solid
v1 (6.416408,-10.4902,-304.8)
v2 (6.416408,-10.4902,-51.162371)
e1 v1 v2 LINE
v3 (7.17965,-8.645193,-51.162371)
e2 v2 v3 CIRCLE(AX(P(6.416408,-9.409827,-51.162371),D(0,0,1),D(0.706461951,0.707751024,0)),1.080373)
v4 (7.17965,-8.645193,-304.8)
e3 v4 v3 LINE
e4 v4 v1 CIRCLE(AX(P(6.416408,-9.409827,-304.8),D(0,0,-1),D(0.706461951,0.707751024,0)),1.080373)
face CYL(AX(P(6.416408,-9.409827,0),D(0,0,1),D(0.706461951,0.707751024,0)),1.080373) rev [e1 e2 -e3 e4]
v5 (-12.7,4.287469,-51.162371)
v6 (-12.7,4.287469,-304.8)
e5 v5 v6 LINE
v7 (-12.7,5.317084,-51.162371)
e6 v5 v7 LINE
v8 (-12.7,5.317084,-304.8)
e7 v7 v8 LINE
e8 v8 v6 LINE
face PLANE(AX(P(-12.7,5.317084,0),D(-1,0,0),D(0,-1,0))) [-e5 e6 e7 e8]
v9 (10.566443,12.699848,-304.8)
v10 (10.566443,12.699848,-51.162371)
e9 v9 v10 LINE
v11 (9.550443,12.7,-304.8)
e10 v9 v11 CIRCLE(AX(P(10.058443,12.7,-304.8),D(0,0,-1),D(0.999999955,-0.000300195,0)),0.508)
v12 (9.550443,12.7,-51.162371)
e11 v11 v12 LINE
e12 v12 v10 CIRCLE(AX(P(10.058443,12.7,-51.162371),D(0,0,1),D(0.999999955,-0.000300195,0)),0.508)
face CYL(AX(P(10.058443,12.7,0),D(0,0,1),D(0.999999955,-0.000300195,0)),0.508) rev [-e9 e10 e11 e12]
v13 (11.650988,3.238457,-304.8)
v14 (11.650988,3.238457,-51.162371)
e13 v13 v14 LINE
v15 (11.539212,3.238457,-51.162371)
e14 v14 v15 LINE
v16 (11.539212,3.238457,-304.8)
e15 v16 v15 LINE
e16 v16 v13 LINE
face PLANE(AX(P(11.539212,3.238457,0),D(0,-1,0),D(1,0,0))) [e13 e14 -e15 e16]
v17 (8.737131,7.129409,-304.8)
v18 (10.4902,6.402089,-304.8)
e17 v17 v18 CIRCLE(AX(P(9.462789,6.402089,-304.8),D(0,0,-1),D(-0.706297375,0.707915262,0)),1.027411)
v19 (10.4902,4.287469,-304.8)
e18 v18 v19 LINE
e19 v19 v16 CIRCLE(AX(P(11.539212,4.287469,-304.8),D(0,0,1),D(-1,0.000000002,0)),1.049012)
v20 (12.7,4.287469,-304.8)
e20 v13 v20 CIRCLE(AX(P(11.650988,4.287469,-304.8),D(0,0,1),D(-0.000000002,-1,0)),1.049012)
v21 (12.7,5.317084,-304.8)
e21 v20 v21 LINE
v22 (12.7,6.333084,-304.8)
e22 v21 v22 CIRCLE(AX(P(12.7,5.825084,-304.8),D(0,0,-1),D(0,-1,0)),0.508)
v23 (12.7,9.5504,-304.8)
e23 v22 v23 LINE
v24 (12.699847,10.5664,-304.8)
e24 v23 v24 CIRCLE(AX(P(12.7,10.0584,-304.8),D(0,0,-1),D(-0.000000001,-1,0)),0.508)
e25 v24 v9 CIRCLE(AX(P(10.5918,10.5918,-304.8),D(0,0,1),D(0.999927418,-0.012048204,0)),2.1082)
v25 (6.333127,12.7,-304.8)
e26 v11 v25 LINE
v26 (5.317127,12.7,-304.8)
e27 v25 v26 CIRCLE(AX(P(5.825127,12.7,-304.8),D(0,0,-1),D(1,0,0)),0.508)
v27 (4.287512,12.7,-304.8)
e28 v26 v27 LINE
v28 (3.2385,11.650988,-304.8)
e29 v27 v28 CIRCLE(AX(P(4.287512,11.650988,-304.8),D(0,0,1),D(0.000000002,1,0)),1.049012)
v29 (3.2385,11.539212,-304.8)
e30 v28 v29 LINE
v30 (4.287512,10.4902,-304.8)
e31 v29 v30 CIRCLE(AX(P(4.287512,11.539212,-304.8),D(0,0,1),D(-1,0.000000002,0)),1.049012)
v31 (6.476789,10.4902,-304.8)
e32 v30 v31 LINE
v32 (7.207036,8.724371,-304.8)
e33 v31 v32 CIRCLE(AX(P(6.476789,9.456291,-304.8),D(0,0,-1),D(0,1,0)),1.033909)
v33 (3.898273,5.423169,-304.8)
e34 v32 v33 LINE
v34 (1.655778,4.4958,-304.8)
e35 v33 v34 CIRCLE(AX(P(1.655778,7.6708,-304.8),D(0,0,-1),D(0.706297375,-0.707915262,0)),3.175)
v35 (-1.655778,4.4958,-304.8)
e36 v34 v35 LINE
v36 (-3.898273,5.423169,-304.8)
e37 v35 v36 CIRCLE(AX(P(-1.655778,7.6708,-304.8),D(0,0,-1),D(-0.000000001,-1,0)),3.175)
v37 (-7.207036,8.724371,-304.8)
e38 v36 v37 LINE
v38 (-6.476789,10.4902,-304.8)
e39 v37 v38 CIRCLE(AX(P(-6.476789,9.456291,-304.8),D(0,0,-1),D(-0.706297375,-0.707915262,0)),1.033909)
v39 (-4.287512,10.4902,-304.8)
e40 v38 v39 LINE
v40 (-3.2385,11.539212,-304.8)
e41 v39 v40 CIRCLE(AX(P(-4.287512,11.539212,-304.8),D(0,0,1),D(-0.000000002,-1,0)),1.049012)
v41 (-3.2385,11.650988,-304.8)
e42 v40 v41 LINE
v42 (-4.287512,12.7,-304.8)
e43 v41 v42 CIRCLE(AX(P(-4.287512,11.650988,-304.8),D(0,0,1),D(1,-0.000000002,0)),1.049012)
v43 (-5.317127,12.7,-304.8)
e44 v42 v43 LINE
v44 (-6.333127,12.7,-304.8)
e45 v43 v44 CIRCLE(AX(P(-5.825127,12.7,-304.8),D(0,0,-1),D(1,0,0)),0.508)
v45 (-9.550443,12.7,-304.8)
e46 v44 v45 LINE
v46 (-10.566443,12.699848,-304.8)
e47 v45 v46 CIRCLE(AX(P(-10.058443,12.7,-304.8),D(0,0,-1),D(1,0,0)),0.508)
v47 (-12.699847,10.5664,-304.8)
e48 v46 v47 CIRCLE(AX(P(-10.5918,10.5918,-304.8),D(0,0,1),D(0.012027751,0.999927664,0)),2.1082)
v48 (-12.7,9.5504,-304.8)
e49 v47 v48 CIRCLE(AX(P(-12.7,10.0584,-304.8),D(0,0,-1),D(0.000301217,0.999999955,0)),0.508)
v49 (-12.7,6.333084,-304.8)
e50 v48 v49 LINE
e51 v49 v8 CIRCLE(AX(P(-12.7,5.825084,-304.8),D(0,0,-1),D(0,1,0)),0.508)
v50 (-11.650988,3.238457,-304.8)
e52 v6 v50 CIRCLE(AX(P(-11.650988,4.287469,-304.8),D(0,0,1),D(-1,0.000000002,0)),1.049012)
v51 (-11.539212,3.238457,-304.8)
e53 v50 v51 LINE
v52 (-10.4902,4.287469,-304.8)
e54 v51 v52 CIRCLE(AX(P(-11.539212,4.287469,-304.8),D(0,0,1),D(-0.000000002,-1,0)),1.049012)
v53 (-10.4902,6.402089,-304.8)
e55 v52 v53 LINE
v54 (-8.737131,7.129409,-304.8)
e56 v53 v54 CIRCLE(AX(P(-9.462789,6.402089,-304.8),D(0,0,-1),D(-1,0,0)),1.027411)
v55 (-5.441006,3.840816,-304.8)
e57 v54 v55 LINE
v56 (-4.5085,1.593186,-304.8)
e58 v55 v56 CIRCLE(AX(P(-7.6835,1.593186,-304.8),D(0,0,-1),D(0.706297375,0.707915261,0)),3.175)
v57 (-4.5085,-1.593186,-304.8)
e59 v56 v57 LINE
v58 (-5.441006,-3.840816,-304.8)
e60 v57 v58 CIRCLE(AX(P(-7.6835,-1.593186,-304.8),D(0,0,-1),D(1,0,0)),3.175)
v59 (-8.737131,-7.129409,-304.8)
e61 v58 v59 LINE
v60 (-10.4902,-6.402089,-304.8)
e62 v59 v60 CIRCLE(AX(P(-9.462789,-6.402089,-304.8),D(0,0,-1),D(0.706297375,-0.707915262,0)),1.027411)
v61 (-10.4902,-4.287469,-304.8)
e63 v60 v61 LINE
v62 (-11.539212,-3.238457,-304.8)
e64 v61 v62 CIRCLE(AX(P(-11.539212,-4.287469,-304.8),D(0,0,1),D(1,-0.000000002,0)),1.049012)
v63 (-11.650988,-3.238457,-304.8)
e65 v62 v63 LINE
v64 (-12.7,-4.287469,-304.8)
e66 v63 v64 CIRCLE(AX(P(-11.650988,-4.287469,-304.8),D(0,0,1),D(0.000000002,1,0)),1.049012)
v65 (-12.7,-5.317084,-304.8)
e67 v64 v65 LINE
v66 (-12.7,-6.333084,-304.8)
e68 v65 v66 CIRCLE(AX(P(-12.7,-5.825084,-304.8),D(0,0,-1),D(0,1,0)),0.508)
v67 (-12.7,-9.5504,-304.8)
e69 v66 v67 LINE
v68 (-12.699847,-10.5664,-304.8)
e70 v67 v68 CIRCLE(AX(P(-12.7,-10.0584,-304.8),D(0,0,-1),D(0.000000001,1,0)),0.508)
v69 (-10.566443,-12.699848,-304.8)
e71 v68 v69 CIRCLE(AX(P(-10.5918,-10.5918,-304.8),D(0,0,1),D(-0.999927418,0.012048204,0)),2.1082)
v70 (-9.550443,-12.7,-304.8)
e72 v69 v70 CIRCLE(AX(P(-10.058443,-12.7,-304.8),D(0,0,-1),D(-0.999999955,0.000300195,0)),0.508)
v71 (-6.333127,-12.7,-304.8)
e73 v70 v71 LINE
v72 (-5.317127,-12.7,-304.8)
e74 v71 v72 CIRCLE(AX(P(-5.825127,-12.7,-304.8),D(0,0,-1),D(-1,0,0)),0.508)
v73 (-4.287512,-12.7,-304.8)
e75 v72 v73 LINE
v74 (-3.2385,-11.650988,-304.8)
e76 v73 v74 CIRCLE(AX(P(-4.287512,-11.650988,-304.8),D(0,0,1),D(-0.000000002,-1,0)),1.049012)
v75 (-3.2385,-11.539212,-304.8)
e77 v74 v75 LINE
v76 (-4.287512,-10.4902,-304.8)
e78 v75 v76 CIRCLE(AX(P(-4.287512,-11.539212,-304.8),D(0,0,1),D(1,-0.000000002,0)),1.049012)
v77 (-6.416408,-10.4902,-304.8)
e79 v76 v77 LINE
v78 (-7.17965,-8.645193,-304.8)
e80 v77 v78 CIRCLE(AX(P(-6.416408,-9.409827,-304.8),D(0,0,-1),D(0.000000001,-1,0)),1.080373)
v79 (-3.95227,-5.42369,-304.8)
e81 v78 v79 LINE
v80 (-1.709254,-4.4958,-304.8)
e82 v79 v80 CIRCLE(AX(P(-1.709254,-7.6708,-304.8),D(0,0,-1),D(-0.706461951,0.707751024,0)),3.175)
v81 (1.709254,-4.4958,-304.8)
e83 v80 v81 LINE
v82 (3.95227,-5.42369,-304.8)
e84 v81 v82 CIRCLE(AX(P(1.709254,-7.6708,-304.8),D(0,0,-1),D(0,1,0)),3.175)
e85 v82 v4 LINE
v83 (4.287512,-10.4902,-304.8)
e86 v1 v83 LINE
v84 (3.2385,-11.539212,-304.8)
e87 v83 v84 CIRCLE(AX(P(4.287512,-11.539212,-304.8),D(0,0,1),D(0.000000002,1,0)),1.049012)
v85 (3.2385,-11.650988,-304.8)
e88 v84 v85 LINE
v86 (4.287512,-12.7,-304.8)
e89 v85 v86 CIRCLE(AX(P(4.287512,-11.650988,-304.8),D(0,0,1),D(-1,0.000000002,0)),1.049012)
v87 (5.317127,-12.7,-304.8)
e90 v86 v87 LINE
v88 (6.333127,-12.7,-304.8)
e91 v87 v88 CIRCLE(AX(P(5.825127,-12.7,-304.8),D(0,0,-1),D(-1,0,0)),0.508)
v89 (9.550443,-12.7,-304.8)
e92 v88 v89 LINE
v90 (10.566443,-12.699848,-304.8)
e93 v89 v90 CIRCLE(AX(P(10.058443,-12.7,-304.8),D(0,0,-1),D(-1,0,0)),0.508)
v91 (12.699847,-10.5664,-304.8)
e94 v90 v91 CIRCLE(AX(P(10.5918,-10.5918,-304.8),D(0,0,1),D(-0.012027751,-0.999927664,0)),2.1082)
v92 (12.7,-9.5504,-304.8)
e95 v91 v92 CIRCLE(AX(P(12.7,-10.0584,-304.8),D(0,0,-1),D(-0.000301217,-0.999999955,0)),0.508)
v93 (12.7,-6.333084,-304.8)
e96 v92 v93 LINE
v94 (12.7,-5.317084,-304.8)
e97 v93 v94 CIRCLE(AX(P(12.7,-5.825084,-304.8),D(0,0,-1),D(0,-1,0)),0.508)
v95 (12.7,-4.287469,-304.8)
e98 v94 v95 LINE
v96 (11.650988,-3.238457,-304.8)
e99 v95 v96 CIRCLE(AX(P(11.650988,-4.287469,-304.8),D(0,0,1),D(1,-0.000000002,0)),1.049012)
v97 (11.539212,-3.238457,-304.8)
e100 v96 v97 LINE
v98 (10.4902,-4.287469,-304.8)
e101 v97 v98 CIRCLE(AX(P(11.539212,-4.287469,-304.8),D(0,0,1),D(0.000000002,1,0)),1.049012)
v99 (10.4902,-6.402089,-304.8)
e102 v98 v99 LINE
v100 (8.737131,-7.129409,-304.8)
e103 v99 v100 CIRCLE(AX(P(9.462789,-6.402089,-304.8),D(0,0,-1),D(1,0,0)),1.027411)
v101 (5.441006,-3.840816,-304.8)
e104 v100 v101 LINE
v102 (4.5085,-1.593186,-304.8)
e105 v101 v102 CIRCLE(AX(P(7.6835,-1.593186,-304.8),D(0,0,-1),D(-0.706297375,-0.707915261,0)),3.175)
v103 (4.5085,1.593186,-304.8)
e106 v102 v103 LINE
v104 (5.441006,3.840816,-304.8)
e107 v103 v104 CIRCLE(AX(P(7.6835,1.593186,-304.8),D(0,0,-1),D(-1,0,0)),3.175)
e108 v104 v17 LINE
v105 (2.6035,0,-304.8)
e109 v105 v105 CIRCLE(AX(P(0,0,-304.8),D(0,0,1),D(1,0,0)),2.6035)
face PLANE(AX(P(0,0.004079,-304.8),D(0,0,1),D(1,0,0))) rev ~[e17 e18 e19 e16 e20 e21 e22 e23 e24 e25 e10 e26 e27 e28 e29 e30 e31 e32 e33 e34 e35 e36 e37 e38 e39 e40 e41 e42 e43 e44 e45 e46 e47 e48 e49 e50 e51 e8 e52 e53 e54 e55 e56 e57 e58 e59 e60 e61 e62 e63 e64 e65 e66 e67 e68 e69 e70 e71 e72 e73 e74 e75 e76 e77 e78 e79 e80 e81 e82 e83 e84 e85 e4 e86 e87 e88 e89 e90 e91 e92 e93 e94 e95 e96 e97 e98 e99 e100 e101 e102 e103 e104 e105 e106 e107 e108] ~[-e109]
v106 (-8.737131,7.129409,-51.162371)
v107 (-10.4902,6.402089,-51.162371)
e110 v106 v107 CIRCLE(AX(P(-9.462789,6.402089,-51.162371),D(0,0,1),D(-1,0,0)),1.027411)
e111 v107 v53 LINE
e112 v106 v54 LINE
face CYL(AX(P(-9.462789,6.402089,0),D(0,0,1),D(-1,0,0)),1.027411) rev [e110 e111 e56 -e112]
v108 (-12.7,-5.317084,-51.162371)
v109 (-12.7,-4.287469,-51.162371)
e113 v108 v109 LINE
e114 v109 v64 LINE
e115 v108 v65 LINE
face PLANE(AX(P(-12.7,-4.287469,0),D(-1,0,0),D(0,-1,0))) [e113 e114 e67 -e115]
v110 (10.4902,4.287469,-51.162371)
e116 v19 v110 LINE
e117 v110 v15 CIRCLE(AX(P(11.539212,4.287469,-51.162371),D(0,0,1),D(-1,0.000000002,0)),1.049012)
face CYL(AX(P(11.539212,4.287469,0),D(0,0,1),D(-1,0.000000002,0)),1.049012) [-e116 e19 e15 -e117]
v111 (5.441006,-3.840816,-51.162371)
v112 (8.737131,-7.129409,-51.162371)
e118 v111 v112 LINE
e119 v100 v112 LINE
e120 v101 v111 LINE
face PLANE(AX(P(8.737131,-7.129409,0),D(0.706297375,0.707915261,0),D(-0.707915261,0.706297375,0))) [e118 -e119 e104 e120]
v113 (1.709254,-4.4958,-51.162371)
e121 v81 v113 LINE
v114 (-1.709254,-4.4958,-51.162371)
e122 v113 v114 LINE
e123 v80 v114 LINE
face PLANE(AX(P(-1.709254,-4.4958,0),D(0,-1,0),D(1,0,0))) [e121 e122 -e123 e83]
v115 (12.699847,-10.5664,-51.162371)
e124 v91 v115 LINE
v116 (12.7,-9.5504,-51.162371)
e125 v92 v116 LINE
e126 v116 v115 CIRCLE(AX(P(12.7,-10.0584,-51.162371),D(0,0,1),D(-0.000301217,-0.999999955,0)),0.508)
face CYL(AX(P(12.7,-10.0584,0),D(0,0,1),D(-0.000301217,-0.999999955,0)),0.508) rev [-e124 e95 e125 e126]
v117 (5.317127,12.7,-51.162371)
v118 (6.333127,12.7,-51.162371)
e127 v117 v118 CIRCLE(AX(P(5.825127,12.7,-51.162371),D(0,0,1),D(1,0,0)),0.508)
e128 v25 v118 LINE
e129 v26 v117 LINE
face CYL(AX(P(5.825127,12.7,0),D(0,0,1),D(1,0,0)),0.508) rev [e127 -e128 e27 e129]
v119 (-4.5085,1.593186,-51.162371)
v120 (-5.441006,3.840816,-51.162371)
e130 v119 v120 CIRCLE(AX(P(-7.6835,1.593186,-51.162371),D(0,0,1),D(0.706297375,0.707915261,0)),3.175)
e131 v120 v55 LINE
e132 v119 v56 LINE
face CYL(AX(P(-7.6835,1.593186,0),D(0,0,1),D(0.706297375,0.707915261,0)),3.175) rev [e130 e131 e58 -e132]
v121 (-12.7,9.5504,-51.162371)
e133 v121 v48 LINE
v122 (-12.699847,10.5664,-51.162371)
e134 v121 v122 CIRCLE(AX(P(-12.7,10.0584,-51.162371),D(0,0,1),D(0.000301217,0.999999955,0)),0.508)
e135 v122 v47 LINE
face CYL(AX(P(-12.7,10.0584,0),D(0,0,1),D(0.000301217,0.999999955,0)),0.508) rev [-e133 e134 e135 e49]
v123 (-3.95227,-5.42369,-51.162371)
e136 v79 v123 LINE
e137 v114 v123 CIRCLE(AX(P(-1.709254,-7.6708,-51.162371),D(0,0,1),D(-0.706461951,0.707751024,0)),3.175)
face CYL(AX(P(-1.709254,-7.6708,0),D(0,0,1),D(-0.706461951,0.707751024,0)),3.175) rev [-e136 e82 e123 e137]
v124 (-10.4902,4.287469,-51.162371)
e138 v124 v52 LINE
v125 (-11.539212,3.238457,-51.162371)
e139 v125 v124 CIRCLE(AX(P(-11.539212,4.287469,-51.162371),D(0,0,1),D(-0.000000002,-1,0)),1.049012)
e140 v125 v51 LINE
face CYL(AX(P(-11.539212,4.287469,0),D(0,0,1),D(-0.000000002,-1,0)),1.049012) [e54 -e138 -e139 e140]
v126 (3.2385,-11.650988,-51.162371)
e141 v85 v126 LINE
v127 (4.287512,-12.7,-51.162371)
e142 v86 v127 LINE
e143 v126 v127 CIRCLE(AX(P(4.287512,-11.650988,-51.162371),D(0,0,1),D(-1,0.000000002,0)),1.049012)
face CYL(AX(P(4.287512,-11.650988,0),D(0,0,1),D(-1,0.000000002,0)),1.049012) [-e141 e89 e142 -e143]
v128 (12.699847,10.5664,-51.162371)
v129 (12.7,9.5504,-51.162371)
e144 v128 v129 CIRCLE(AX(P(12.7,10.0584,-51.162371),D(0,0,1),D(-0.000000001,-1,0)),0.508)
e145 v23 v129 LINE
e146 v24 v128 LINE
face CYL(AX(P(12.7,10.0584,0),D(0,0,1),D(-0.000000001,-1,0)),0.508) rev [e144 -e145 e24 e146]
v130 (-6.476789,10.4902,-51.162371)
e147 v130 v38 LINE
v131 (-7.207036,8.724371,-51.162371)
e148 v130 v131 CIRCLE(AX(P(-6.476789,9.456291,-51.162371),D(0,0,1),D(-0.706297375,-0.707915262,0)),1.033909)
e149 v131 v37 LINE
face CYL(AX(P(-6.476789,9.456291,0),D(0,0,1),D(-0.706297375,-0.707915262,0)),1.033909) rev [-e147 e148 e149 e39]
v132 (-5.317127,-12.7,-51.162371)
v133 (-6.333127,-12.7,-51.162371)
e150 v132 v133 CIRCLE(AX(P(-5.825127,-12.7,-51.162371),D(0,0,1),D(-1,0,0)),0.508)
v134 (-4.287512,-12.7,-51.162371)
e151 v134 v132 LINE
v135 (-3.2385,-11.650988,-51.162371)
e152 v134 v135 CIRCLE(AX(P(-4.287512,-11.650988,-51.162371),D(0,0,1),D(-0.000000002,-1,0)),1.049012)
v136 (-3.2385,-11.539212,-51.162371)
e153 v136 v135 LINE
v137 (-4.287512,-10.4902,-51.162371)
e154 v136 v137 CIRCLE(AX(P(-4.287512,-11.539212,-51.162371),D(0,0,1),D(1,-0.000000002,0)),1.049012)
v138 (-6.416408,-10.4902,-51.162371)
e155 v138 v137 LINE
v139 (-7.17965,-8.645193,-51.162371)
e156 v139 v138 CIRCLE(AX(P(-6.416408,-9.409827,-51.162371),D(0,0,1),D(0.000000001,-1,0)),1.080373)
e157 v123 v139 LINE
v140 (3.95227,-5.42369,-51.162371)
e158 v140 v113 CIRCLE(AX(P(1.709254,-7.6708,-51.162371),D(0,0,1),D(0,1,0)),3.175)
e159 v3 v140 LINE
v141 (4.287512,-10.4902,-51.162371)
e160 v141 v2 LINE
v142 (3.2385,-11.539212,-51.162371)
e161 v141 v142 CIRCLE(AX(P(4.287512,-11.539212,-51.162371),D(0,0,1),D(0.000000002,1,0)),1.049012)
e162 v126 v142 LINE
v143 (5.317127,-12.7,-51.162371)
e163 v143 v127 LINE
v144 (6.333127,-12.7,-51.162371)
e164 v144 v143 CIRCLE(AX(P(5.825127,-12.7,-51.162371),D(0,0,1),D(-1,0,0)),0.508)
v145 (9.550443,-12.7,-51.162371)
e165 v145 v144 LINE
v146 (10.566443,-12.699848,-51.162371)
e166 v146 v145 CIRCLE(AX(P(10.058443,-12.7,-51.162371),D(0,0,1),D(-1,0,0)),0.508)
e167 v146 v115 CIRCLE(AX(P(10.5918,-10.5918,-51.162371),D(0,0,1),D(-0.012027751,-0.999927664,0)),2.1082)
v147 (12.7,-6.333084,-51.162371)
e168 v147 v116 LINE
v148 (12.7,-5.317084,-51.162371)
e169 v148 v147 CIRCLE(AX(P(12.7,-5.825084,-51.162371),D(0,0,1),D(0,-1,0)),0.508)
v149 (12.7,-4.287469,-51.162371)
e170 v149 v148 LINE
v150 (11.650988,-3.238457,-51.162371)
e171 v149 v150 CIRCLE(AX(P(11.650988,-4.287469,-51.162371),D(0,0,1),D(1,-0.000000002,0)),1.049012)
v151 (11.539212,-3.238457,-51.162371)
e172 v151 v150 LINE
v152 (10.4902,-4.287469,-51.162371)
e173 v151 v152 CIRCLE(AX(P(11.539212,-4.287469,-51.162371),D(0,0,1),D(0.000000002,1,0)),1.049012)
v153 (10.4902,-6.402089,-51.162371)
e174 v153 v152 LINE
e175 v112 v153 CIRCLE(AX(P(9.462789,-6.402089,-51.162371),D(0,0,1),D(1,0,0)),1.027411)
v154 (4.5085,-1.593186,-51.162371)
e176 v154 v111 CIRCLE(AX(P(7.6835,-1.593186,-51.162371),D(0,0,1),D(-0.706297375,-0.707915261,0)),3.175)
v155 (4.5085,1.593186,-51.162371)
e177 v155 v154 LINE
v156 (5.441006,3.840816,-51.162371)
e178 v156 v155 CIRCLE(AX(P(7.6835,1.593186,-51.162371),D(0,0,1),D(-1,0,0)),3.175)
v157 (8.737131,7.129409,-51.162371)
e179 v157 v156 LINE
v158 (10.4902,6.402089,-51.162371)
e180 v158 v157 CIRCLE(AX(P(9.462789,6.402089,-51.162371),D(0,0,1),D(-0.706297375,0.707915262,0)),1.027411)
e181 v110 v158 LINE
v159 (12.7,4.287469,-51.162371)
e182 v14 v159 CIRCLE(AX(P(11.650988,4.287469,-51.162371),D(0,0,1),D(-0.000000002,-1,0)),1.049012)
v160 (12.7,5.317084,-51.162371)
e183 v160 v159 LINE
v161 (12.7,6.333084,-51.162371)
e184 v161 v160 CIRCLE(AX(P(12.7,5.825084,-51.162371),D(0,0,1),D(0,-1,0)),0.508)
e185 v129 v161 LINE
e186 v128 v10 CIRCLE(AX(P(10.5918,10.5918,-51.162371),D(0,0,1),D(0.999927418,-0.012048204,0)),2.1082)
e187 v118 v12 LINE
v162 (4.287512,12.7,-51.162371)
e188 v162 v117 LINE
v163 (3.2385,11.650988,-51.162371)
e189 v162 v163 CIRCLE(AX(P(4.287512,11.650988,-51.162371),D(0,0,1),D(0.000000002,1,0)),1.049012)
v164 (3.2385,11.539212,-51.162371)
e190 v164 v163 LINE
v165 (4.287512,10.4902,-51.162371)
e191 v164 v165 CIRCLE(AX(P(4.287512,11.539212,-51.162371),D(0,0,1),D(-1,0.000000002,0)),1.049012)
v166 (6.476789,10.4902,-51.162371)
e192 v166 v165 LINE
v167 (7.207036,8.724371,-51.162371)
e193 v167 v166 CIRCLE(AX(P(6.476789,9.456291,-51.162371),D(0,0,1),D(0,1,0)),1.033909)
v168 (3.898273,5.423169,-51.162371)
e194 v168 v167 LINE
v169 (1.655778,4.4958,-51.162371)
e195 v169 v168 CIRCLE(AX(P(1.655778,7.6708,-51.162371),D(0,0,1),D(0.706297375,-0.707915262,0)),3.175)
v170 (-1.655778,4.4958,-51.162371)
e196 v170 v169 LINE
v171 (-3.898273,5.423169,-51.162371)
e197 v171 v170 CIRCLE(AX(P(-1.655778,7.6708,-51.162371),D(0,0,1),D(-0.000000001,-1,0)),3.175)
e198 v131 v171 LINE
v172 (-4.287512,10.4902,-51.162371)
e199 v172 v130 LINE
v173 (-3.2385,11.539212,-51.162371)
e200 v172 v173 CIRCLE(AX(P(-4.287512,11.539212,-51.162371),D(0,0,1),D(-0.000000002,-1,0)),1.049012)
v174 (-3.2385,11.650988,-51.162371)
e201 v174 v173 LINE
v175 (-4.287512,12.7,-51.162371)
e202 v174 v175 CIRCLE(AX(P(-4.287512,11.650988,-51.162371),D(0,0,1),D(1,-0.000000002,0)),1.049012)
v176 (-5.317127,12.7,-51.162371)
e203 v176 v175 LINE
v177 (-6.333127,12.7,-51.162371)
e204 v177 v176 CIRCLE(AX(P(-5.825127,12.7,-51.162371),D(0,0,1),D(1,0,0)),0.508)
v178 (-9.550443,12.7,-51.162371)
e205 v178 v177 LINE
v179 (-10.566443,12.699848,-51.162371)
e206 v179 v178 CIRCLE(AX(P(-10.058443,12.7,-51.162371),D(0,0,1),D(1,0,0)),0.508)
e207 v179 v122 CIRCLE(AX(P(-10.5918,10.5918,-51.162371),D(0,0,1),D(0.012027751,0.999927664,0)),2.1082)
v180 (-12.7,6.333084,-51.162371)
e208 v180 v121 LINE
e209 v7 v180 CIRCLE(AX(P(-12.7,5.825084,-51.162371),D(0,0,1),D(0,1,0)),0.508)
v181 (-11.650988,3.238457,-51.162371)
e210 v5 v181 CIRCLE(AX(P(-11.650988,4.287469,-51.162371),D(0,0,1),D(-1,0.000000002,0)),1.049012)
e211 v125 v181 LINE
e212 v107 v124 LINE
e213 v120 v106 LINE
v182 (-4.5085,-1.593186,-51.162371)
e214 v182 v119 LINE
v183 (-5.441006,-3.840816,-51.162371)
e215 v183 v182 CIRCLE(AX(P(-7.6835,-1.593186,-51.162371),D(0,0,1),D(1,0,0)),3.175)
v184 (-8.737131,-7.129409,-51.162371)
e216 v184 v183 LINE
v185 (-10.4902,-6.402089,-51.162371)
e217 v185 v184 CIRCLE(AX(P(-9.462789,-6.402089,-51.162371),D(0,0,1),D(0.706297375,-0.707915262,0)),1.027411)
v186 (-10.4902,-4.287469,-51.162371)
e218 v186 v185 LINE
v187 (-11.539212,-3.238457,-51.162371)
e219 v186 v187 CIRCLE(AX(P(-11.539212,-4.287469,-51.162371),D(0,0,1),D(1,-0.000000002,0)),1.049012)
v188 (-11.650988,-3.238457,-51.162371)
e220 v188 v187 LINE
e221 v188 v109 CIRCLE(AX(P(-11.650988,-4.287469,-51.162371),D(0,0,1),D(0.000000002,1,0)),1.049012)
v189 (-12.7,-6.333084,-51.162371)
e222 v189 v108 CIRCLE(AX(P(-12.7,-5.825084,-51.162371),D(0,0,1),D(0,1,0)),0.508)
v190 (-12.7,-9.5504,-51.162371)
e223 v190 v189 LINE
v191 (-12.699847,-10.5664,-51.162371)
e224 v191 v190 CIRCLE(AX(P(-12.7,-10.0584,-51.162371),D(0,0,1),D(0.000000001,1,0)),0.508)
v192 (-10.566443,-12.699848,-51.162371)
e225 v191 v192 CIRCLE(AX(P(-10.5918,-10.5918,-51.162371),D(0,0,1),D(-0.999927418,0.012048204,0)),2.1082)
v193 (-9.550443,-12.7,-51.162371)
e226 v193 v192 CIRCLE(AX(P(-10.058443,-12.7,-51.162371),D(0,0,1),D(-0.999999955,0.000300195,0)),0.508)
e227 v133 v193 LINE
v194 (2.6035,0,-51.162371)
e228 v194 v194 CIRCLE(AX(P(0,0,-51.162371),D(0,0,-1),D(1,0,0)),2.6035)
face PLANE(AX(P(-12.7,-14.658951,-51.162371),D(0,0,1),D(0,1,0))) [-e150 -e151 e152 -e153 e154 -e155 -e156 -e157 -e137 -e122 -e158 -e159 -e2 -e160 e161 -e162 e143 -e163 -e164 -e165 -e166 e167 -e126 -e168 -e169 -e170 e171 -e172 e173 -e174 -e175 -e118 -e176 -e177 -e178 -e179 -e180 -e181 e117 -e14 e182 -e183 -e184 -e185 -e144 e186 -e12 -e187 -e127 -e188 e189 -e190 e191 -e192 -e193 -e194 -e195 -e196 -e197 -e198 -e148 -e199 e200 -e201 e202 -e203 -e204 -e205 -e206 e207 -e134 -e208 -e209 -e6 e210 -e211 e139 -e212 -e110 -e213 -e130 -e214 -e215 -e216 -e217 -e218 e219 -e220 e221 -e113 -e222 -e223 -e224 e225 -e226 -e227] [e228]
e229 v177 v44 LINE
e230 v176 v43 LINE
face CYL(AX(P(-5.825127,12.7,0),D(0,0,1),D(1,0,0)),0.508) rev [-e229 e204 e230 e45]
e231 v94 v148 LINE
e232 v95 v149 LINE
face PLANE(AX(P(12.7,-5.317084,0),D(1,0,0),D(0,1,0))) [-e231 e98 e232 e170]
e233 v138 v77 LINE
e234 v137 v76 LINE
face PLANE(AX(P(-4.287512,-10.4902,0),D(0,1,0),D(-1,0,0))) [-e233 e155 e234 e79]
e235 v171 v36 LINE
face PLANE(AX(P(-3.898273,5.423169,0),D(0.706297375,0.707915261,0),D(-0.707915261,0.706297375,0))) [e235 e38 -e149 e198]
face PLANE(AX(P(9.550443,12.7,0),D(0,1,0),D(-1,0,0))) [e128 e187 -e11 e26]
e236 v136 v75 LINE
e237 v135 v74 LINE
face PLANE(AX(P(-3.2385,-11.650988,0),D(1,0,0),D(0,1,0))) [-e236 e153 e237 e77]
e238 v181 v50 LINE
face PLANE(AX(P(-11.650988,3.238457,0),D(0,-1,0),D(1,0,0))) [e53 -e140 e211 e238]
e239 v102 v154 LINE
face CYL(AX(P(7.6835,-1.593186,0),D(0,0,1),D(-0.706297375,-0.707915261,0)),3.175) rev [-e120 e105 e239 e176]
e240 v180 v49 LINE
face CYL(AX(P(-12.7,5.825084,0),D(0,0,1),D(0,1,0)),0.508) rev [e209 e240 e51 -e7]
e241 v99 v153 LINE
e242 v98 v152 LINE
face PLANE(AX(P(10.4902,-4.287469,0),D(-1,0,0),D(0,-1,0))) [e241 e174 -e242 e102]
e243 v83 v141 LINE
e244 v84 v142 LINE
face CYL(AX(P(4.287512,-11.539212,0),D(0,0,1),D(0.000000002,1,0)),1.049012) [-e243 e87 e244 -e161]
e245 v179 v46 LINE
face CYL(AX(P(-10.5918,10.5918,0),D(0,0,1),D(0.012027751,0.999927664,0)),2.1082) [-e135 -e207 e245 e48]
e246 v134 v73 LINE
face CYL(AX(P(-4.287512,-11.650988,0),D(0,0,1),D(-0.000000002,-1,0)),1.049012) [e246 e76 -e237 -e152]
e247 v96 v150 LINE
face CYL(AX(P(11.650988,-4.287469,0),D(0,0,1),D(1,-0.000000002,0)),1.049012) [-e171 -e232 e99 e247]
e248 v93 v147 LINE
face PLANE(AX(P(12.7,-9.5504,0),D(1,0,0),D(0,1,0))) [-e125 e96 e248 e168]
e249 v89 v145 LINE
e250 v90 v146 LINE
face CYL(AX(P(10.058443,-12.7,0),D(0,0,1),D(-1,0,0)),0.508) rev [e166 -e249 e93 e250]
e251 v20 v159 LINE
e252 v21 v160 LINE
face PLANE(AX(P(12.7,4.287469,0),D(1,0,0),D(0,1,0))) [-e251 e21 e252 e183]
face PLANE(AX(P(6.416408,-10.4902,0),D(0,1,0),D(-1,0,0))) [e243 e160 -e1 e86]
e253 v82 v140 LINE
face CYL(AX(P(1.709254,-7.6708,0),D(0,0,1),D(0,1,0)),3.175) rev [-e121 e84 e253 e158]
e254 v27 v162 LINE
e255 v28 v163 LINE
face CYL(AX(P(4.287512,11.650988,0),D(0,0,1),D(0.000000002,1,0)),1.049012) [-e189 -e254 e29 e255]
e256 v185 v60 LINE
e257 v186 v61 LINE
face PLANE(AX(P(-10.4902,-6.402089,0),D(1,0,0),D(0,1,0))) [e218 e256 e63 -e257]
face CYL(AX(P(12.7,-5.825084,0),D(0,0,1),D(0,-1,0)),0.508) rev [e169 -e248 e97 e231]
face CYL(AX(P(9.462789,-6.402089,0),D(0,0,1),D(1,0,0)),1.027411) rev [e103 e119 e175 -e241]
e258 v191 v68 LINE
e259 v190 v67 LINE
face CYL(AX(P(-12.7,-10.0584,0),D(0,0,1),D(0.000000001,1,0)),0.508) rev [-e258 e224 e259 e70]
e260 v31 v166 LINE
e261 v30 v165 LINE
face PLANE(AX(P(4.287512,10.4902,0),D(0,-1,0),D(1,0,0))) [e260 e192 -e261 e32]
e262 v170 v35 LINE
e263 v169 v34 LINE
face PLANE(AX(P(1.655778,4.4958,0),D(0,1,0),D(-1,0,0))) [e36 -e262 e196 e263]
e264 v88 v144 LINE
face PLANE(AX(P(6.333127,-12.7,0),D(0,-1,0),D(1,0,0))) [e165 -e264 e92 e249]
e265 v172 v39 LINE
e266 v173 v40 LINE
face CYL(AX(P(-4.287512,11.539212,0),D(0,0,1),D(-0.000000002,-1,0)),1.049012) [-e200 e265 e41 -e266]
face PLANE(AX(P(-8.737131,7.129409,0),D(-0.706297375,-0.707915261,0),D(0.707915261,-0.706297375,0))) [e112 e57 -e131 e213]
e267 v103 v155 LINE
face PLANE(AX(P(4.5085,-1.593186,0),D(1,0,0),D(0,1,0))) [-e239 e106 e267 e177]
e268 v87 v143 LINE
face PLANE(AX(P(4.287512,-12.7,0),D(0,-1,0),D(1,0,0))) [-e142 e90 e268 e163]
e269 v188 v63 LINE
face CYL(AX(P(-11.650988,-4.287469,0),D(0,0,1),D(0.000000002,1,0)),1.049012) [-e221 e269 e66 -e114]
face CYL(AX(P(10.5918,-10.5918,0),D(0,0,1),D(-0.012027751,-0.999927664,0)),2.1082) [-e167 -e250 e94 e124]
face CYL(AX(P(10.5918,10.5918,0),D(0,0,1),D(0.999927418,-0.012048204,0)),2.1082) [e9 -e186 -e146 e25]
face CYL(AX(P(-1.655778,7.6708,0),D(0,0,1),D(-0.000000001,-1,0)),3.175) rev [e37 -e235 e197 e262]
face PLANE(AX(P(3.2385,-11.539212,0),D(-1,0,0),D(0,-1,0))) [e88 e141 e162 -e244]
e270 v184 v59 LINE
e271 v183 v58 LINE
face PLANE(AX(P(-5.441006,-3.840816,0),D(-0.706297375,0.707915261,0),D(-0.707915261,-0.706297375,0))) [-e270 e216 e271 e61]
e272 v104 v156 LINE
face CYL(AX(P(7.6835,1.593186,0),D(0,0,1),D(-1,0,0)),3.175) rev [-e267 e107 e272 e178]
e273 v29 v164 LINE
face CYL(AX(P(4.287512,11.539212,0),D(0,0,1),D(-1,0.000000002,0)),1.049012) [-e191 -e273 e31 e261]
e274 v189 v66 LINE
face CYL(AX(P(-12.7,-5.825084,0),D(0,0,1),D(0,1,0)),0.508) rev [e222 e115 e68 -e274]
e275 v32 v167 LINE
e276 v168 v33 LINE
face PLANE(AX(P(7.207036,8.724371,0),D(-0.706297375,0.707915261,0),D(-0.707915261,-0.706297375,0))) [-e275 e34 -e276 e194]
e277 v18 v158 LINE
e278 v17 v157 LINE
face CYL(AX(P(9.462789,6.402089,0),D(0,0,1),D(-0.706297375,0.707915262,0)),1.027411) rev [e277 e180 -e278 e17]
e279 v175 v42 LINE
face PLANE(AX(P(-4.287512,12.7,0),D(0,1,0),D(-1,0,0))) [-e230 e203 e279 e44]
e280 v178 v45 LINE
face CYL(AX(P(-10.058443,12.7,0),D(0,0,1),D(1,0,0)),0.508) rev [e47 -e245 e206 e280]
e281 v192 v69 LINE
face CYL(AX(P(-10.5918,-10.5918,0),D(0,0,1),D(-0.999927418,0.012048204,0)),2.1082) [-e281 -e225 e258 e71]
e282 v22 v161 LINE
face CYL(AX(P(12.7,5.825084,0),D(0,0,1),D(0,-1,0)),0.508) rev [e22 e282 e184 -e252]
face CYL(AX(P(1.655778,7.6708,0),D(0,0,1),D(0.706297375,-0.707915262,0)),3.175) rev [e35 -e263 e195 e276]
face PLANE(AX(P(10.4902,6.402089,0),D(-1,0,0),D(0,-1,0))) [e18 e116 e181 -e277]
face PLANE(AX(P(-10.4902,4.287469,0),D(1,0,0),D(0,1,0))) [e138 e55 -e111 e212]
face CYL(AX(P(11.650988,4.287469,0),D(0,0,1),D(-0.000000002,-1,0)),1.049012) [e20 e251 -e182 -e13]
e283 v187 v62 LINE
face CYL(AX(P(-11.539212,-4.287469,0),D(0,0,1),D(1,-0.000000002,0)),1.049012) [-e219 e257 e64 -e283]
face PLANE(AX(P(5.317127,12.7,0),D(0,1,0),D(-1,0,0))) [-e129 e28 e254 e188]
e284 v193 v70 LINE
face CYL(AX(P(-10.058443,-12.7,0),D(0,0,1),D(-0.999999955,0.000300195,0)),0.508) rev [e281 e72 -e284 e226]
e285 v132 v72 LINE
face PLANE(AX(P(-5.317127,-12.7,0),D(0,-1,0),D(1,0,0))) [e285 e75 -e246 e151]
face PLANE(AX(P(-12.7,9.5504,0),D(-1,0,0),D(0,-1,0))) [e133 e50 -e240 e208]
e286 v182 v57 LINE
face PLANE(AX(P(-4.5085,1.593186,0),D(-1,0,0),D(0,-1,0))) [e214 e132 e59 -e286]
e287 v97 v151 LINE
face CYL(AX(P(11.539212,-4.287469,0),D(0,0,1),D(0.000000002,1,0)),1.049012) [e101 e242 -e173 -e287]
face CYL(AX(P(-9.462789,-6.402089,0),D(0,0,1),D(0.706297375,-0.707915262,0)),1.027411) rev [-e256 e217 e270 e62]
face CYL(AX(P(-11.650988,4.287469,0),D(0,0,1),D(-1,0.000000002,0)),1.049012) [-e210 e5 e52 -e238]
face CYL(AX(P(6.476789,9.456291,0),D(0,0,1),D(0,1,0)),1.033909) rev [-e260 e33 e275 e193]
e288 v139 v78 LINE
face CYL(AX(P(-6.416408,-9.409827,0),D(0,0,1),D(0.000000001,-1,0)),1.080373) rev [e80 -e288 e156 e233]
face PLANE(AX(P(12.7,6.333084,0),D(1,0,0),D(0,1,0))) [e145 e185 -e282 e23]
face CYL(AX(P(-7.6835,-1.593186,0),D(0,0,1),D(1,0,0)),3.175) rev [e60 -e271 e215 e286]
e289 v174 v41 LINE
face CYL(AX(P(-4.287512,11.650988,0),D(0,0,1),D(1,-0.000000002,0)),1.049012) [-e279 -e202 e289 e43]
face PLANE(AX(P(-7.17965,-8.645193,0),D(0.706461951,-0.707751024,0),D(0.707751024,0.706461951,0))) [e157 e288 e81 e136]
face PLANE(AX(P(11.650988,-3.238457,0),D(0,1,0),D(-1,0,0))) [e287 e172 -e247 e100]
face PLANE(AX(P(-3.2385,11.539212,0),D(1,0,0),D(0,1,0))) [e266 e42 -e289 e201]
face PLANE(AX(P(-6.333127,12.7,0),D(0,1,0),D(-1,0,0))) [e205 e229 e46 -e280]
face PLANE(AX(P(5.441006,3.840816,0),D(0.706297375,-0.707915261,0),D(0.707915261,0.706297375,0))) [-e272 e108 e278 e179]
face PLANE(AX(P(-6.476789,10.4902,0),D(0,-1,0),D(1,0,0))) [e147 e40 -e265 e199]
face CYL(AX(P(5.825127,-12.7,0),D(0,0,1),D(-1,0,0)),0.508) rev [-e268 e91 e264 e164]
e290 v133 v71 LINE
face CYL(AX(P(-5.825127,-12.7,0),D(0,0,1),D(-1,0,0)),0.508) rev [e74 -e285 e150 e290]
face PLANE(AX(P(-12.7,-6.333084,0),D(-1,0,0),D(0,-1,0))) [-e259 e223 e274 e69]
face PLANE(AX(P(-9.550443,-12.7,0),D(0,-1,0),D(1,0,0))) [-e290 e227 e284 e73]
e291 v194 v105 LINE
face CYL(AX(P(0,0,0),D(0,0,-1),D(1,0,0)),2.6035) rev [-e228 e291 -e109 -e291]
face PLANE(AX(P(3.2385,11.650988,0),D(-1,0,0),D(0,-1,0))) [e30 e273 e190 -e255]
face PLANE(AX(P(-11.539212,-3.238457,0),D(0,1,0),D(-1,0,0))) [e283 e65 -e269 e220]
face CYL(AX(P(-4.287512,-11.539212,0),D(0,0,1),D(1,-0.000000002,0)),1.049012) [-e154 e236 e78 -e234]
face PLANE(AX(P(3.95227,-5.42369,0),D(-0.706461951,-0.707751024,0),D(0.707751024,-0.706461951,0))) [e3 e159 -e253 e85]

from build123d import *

# Parameters (mm, degrees)
SKETCH1_R               = 2.6035
BOSS_EXTRUDE1_DEPTH     = 304.8
SKETCH2_W               = 358.370469457
SKETCH2_H               = 29.886329236
CUT_EXTRUDE1_DEPTH      = 2.794
CUT_EXTRUDE1_DEPTH_BACK = 29.464


with BuildPart() as part:
    # Sketch1 → Boss-Extrude1 (new body, symmetric)
    with BuildSketch(Plane.XY):
        with BuildLine():
            Line((-7.179650497, -8.645192506), (-3.952270251, -5.423690499))
            ThreePointArc((-3.952270251, -5.423690499), (-2.922936451, -4.736929036), (-1.709253557, -4.4958))
            Line((-1.709253557, -4.4958), (1.709253557, -4.4958))
            ThreePointArc((1.709253557, -4.4958), (2.922936451, -4.736929036), (3.952270251, -5.423690499))
            Line((3.952270251, -5.423690499), (7.179650497, -8.645192506))
            ThreePointArc((7.179650497, -8.645192506), (7.41473083, -9.822813117), (6.416408329, -10.4902))
            Line((6.416408329, -10.4902), (4.287512407, -10.4902))
            ThreePointArc((4.287512407, -10.4902), (3.54574862, -10.79744862), (3.2385, -11.539212407))
            Line((3.2385, -11.539212407), (3.2385, -11.650987593))
            ThreePointArc((3.2385, -11.650987593), (3.54574862, -12.39275138), (4.287512407, -12.7))
            Line((4.287512407, -12.7), (5.317126718, -12.7))
            ThreePointArc((5.317126718, -12.7), (5.825126718, -12.192), (6.333126718, -12.7))
            Line((6.333126718, -12.7), (9.550443118, -12.7))
            ThreePointArc((9.550443118, -12.7), (10.058366869, -12.192000006), (10.566443095, -12.699847501))
            ThreePointArc((10.566443095, -12.699847501), (12.082537762, -12.08250727), (12.699846982, -10.566399977))
            ThreePointArc((12.699846982, -10.566399977), (12.192000006, -10.058323491), (12.7, -9.5504))
            Line((12.7, -9.5504), (12.7, -6.3330836))
            ThreePointArc((12.7, -6.3330836), (12.192, -5.8250836), (12.7, -5.3170836))
            Line((12.7, -5.3170836), (12.7, -4.287469289))
            ThreePointArc((12.7, -4.287469289), (12.39275138, -3.545705502), (11.650987593, -3.238456882))
            Line((11.650987593, -3.238456882), (11.539212407, -3.238456882))
            ThreePointArc((11.539212407, -3.238456882), (10.79744862, -3.545705502), (10.4902, -4.287469289))
            Line((10.4902, -4.287469289), (10.4902, -6.402089023))
            ThreePointArc((10.4902, -6.402089023), (9.856505071, -7.351067942), (8.737131347, -7.129408934))
            Line((8.737131347, -7.129408934), (5.441005833, -3.840816462))
            ThreePointArc((5.441005833, -3.840816462), (4.750877967, -2.809883091), (4.5085, -1.593185507))
            Line((4.5085, -1.593185507), (4.5085, 1.593185507))
            ThreePointArc((4.5085, 1.593185507), (4.750877967, 2.809883091), (5.441005833, 3.840816462))
            Line((5.441005833, 3.840816462), (8.737131347, 7.129408934))
            ThreePointArc((8.737131347, 7.129408934), (9.856505071, 7.351067942), (10.4902, 6.402089023))
            Line((10.4902, 6.402089023), (10.4902, 4.287469289))
            ThreePointArc((10.4902, 4.287469289), (10.79744862, 3.545705502), (11.539212407, 3.238456882))
            Line((11.539212407, 3.238456882), (11.650987593, 3.238456882))
            ThreePointArc((11.650987593, 3.238456882), (12.39275138, 3.545705502), (12.7, 4.287469289))
            Line((12.7, 4.287469289), (12.7, 5.3170836))
            ThreePointArc((12.7, 5.3170836), (12.192, 5.8250836), (12.7, 6.3330836))
            Line((12.7, 6.3330836), (12.7, 9.5504))
            ThreePointArc((12.7, 9.5504), (12.192000006, 10.058323491), (12.699846982, 10.566399977))
            ThreePointArc((12.699846982, 10.566399977), (12.082537762, 12.08250727), (10.566443095, 12.699847501))
            ThreePointArc((10.566443095, 12.699847501), (10.058366869, 12.192000006), (9.550443118, 12.7))
            Line((9.550443118, 12.7), (6.333126718, 12.7))
            ThreePointArc((6.333126718, 12.7), (5.825126718, 12.192), (5.317126718, 12.7))
            Line((5.317126718, 12.7), (4.287512407, 12.7))
            ThreePointArc((4.287512407, 12.7), (3.54574862, 12.39275138), (3.2385, 11.650987593))
            Line((3.2385, 11.650987593), (3.2385, 11.539212407))
            ThreePointArc((3.2385, 11.539212407), (3.54574862, 10.79744862), (4.287512407, 10.4902))
            Line((4.287512407, 10.4902), (6.476788598, 10.4902))
            ThreePointArc((6.476788598, 10.4902), (7.432222385, 9.85140422), (7.207036008, 8.724370562))
            Line((7.207036008, 8.724370562), (3.898272566, 5.423169045))
            ThreePointArc((3.898272566, 5.423169045), (2.869120213, 4.736787962), (1.655778399, 4.4958))
            Line((1.655778399, 4.4958), (-1.655778399, 4.4958))
            ThreePointArc((-1.655778399, 4.4958), (-2.869120213, 4.736787962), (-3.898272566, 5.423169045))
            Line((-3.898272566, 5.423169045), (-7.207036008, 8.724370562))
            ThreePointArc((-7.207036008, 8.724370562), (-7.432222385, 9.85140422), (-6.476788598, 10.4902))
            Line((-6.476788598, 10.4902), (-4.287512407, 10.4902))
            ThreePointArc((-4.287512407, 10.4902), (-3.54574862, 10.79744862), (-3.2385, 11.539212407))
            Line((-3.2385, 11.539212407), (-3.2385, 11.650987593))
            ThreePointArc((-3.2385, 11.650987593), (-3.54574862, 12.39275138), (-4.287512407, 12.7))
            Line((-4.287512407, 12.7), (-5.317126718, 12.7))
            ThreePointArc((-5.317126718, 12.7), (-5.825126718, 12.192), (-6.333126718, 12.7))
            Line((-6.333126718, 12.7), (-9.550443118, 12.7))
            ThreePointArc((-9.550443118, 12.7), (-10.058366869, 12.192000006), (-10.566443095, 12.699847501))
            ThreePointArc((-10.566443095, 12.699847501), (-12.082537762, 12.08250727), (-12.699846982, 10.566399977))
            ThreePointArc((-12.699846982, 10.566399977), (-12.192000006, 10.058323491), (-12.7, 9.5504))
            Line((-12.7, 9.5504), (-12.7, 6.3330836))
            ThreePointArc((-12.7, 6.3330836), (-12.192, 5.8250836), (-12.7, 5.3170836))
            Line((-12.7, 5.3170836), (-12.7, 4.287469289))
            ThreePointArc((-12.7, 4.287469289), (-12.39275138, 3.545705502), (-11.650987593, 3.238456882))
            Line((-11.650987593, 3.238456882), (-11.539212407, 3.238456882))
            ThreePointArc((-11.539212407, 3.238456882), (-10.79744862, 3.545705502), (-10.4902, 4.287469289))
            Line((-10.4902, 4.287469289), (-10.4902, 6.402089023))
            ThreePointArc((-10.4902, 6.402089023), (-9.856505071, 7.351067942), (-8.737131347, 7.129408934))
            Line((-8.737131347, 7.129408934), (-5.441005833, 3.840816462))
            ThreePointArc((-5.441005833, 3.840816462), (-4.750877967, 2.809883091), (-4.5085, 1.593185507))
            Line((-4.5085, 1.593185507), (-4.5085, -1.593185507))
            ThreePointArc((-4.5085, -1.593185507), (-4.750877967, -2.809883091), (-5.441005833, -3.840816462))
            Line((-5.441005833, -3.840816462), (-8.737131347, -7.129408934))
            ThreePointArc((-8.737131347, -7.129408934), (-9.856505071, -7.351067942), (-10.4902, -6.402089023))
            Line((-10.4902, -6.402089023), (-10.4902, -4.287469289))
            ThreePointArc((-10.4902, -4.287469289), (-10.79744862, -3.545705502), (-11.539212407, -3.238456882))
            Line((-11.539212407, -3.238456882), (-11.650987593, -3.238456882))
            ThreePointArc((-11.650987593, -3.238456882), (-12.39275138, -3.545705502), (-12.7, -4.287469289))
            Line((-12.7, -4.287469289), (-12.7, -5.3170836))
            ThreePointArc((-12.7, -5.3170836), (-12.192, -5.8250836), (-12.7, -6.3330836))
            Line((-12.7, -6.3330836), (-12.7, -9.5504))
            ThreePointArc((-12.7, -9.5504), (-12.192000006, -10.058323491), (-12.699846982, -10.566399977))
            ThreePointArc((-12.699846982, -10.566399977), (-12.082537762, -12.08250727), (-10.566443095, -12.699847501))
            ThreePointArc((-10.566443095, -12.699847501), (-10.058366869, -12.192000006), (-9.550443118, -12.7))
            Line((-9.550443118, -12.7), (-6.333126718, -12.7))
            ThreePointArc((-6.333126718, -12.7), (-5.825126718, -12.192), (-5.317126718, -12.7))
            Line((-5.317126718, -12.7), (-4.287512407, -12.7))
            ThreePointArc((-4.287512407, -12.7), (-3.54574862, -12.39275138), (-3.2385, -11.650987593))
            Line((-3.2385, -11.650987593), (-3.2385, -11.539212407))
            ThreePointArc((-3.2385, -11.539212407), (-3.54574862, -10.79744862), (-4.287512407, -10.4902))
            Line((-4.287512407, -10.4902), (-6.416408329, -10.4902))
            ThreePointArc((-6.416408329, -10.4902), (-7.41473083, -9.822813117), (-7.179650497, -8.645192506))
        make_face()
        Circle(SKETCH1_R, mode=Mode.SUBTRACT)
    extrude(amount=BOSS_EXTRUDE1_DEPTH, both=True)

    # Sketch2 → Cut-Extrude1 (cut, two sides)
    with BuildSketch(Plane.ZY.offset(12.7)) as cut_extrude1_sk:
        with Locations((128.022864135, 0.284213822)):
            Rectangle(SKETCH2_W, SKETCH2_H)
    extrude(amount=CUT_EXTRUDE1_DEPTH, mode=Mode.SUBTRACT)
    extrude(cut_extrude1_sk.sketch, amount=-CUT_EXTRUDE1_DEPTH_BACK, mode=Mode.SUBTRACT)


solid = part.part
